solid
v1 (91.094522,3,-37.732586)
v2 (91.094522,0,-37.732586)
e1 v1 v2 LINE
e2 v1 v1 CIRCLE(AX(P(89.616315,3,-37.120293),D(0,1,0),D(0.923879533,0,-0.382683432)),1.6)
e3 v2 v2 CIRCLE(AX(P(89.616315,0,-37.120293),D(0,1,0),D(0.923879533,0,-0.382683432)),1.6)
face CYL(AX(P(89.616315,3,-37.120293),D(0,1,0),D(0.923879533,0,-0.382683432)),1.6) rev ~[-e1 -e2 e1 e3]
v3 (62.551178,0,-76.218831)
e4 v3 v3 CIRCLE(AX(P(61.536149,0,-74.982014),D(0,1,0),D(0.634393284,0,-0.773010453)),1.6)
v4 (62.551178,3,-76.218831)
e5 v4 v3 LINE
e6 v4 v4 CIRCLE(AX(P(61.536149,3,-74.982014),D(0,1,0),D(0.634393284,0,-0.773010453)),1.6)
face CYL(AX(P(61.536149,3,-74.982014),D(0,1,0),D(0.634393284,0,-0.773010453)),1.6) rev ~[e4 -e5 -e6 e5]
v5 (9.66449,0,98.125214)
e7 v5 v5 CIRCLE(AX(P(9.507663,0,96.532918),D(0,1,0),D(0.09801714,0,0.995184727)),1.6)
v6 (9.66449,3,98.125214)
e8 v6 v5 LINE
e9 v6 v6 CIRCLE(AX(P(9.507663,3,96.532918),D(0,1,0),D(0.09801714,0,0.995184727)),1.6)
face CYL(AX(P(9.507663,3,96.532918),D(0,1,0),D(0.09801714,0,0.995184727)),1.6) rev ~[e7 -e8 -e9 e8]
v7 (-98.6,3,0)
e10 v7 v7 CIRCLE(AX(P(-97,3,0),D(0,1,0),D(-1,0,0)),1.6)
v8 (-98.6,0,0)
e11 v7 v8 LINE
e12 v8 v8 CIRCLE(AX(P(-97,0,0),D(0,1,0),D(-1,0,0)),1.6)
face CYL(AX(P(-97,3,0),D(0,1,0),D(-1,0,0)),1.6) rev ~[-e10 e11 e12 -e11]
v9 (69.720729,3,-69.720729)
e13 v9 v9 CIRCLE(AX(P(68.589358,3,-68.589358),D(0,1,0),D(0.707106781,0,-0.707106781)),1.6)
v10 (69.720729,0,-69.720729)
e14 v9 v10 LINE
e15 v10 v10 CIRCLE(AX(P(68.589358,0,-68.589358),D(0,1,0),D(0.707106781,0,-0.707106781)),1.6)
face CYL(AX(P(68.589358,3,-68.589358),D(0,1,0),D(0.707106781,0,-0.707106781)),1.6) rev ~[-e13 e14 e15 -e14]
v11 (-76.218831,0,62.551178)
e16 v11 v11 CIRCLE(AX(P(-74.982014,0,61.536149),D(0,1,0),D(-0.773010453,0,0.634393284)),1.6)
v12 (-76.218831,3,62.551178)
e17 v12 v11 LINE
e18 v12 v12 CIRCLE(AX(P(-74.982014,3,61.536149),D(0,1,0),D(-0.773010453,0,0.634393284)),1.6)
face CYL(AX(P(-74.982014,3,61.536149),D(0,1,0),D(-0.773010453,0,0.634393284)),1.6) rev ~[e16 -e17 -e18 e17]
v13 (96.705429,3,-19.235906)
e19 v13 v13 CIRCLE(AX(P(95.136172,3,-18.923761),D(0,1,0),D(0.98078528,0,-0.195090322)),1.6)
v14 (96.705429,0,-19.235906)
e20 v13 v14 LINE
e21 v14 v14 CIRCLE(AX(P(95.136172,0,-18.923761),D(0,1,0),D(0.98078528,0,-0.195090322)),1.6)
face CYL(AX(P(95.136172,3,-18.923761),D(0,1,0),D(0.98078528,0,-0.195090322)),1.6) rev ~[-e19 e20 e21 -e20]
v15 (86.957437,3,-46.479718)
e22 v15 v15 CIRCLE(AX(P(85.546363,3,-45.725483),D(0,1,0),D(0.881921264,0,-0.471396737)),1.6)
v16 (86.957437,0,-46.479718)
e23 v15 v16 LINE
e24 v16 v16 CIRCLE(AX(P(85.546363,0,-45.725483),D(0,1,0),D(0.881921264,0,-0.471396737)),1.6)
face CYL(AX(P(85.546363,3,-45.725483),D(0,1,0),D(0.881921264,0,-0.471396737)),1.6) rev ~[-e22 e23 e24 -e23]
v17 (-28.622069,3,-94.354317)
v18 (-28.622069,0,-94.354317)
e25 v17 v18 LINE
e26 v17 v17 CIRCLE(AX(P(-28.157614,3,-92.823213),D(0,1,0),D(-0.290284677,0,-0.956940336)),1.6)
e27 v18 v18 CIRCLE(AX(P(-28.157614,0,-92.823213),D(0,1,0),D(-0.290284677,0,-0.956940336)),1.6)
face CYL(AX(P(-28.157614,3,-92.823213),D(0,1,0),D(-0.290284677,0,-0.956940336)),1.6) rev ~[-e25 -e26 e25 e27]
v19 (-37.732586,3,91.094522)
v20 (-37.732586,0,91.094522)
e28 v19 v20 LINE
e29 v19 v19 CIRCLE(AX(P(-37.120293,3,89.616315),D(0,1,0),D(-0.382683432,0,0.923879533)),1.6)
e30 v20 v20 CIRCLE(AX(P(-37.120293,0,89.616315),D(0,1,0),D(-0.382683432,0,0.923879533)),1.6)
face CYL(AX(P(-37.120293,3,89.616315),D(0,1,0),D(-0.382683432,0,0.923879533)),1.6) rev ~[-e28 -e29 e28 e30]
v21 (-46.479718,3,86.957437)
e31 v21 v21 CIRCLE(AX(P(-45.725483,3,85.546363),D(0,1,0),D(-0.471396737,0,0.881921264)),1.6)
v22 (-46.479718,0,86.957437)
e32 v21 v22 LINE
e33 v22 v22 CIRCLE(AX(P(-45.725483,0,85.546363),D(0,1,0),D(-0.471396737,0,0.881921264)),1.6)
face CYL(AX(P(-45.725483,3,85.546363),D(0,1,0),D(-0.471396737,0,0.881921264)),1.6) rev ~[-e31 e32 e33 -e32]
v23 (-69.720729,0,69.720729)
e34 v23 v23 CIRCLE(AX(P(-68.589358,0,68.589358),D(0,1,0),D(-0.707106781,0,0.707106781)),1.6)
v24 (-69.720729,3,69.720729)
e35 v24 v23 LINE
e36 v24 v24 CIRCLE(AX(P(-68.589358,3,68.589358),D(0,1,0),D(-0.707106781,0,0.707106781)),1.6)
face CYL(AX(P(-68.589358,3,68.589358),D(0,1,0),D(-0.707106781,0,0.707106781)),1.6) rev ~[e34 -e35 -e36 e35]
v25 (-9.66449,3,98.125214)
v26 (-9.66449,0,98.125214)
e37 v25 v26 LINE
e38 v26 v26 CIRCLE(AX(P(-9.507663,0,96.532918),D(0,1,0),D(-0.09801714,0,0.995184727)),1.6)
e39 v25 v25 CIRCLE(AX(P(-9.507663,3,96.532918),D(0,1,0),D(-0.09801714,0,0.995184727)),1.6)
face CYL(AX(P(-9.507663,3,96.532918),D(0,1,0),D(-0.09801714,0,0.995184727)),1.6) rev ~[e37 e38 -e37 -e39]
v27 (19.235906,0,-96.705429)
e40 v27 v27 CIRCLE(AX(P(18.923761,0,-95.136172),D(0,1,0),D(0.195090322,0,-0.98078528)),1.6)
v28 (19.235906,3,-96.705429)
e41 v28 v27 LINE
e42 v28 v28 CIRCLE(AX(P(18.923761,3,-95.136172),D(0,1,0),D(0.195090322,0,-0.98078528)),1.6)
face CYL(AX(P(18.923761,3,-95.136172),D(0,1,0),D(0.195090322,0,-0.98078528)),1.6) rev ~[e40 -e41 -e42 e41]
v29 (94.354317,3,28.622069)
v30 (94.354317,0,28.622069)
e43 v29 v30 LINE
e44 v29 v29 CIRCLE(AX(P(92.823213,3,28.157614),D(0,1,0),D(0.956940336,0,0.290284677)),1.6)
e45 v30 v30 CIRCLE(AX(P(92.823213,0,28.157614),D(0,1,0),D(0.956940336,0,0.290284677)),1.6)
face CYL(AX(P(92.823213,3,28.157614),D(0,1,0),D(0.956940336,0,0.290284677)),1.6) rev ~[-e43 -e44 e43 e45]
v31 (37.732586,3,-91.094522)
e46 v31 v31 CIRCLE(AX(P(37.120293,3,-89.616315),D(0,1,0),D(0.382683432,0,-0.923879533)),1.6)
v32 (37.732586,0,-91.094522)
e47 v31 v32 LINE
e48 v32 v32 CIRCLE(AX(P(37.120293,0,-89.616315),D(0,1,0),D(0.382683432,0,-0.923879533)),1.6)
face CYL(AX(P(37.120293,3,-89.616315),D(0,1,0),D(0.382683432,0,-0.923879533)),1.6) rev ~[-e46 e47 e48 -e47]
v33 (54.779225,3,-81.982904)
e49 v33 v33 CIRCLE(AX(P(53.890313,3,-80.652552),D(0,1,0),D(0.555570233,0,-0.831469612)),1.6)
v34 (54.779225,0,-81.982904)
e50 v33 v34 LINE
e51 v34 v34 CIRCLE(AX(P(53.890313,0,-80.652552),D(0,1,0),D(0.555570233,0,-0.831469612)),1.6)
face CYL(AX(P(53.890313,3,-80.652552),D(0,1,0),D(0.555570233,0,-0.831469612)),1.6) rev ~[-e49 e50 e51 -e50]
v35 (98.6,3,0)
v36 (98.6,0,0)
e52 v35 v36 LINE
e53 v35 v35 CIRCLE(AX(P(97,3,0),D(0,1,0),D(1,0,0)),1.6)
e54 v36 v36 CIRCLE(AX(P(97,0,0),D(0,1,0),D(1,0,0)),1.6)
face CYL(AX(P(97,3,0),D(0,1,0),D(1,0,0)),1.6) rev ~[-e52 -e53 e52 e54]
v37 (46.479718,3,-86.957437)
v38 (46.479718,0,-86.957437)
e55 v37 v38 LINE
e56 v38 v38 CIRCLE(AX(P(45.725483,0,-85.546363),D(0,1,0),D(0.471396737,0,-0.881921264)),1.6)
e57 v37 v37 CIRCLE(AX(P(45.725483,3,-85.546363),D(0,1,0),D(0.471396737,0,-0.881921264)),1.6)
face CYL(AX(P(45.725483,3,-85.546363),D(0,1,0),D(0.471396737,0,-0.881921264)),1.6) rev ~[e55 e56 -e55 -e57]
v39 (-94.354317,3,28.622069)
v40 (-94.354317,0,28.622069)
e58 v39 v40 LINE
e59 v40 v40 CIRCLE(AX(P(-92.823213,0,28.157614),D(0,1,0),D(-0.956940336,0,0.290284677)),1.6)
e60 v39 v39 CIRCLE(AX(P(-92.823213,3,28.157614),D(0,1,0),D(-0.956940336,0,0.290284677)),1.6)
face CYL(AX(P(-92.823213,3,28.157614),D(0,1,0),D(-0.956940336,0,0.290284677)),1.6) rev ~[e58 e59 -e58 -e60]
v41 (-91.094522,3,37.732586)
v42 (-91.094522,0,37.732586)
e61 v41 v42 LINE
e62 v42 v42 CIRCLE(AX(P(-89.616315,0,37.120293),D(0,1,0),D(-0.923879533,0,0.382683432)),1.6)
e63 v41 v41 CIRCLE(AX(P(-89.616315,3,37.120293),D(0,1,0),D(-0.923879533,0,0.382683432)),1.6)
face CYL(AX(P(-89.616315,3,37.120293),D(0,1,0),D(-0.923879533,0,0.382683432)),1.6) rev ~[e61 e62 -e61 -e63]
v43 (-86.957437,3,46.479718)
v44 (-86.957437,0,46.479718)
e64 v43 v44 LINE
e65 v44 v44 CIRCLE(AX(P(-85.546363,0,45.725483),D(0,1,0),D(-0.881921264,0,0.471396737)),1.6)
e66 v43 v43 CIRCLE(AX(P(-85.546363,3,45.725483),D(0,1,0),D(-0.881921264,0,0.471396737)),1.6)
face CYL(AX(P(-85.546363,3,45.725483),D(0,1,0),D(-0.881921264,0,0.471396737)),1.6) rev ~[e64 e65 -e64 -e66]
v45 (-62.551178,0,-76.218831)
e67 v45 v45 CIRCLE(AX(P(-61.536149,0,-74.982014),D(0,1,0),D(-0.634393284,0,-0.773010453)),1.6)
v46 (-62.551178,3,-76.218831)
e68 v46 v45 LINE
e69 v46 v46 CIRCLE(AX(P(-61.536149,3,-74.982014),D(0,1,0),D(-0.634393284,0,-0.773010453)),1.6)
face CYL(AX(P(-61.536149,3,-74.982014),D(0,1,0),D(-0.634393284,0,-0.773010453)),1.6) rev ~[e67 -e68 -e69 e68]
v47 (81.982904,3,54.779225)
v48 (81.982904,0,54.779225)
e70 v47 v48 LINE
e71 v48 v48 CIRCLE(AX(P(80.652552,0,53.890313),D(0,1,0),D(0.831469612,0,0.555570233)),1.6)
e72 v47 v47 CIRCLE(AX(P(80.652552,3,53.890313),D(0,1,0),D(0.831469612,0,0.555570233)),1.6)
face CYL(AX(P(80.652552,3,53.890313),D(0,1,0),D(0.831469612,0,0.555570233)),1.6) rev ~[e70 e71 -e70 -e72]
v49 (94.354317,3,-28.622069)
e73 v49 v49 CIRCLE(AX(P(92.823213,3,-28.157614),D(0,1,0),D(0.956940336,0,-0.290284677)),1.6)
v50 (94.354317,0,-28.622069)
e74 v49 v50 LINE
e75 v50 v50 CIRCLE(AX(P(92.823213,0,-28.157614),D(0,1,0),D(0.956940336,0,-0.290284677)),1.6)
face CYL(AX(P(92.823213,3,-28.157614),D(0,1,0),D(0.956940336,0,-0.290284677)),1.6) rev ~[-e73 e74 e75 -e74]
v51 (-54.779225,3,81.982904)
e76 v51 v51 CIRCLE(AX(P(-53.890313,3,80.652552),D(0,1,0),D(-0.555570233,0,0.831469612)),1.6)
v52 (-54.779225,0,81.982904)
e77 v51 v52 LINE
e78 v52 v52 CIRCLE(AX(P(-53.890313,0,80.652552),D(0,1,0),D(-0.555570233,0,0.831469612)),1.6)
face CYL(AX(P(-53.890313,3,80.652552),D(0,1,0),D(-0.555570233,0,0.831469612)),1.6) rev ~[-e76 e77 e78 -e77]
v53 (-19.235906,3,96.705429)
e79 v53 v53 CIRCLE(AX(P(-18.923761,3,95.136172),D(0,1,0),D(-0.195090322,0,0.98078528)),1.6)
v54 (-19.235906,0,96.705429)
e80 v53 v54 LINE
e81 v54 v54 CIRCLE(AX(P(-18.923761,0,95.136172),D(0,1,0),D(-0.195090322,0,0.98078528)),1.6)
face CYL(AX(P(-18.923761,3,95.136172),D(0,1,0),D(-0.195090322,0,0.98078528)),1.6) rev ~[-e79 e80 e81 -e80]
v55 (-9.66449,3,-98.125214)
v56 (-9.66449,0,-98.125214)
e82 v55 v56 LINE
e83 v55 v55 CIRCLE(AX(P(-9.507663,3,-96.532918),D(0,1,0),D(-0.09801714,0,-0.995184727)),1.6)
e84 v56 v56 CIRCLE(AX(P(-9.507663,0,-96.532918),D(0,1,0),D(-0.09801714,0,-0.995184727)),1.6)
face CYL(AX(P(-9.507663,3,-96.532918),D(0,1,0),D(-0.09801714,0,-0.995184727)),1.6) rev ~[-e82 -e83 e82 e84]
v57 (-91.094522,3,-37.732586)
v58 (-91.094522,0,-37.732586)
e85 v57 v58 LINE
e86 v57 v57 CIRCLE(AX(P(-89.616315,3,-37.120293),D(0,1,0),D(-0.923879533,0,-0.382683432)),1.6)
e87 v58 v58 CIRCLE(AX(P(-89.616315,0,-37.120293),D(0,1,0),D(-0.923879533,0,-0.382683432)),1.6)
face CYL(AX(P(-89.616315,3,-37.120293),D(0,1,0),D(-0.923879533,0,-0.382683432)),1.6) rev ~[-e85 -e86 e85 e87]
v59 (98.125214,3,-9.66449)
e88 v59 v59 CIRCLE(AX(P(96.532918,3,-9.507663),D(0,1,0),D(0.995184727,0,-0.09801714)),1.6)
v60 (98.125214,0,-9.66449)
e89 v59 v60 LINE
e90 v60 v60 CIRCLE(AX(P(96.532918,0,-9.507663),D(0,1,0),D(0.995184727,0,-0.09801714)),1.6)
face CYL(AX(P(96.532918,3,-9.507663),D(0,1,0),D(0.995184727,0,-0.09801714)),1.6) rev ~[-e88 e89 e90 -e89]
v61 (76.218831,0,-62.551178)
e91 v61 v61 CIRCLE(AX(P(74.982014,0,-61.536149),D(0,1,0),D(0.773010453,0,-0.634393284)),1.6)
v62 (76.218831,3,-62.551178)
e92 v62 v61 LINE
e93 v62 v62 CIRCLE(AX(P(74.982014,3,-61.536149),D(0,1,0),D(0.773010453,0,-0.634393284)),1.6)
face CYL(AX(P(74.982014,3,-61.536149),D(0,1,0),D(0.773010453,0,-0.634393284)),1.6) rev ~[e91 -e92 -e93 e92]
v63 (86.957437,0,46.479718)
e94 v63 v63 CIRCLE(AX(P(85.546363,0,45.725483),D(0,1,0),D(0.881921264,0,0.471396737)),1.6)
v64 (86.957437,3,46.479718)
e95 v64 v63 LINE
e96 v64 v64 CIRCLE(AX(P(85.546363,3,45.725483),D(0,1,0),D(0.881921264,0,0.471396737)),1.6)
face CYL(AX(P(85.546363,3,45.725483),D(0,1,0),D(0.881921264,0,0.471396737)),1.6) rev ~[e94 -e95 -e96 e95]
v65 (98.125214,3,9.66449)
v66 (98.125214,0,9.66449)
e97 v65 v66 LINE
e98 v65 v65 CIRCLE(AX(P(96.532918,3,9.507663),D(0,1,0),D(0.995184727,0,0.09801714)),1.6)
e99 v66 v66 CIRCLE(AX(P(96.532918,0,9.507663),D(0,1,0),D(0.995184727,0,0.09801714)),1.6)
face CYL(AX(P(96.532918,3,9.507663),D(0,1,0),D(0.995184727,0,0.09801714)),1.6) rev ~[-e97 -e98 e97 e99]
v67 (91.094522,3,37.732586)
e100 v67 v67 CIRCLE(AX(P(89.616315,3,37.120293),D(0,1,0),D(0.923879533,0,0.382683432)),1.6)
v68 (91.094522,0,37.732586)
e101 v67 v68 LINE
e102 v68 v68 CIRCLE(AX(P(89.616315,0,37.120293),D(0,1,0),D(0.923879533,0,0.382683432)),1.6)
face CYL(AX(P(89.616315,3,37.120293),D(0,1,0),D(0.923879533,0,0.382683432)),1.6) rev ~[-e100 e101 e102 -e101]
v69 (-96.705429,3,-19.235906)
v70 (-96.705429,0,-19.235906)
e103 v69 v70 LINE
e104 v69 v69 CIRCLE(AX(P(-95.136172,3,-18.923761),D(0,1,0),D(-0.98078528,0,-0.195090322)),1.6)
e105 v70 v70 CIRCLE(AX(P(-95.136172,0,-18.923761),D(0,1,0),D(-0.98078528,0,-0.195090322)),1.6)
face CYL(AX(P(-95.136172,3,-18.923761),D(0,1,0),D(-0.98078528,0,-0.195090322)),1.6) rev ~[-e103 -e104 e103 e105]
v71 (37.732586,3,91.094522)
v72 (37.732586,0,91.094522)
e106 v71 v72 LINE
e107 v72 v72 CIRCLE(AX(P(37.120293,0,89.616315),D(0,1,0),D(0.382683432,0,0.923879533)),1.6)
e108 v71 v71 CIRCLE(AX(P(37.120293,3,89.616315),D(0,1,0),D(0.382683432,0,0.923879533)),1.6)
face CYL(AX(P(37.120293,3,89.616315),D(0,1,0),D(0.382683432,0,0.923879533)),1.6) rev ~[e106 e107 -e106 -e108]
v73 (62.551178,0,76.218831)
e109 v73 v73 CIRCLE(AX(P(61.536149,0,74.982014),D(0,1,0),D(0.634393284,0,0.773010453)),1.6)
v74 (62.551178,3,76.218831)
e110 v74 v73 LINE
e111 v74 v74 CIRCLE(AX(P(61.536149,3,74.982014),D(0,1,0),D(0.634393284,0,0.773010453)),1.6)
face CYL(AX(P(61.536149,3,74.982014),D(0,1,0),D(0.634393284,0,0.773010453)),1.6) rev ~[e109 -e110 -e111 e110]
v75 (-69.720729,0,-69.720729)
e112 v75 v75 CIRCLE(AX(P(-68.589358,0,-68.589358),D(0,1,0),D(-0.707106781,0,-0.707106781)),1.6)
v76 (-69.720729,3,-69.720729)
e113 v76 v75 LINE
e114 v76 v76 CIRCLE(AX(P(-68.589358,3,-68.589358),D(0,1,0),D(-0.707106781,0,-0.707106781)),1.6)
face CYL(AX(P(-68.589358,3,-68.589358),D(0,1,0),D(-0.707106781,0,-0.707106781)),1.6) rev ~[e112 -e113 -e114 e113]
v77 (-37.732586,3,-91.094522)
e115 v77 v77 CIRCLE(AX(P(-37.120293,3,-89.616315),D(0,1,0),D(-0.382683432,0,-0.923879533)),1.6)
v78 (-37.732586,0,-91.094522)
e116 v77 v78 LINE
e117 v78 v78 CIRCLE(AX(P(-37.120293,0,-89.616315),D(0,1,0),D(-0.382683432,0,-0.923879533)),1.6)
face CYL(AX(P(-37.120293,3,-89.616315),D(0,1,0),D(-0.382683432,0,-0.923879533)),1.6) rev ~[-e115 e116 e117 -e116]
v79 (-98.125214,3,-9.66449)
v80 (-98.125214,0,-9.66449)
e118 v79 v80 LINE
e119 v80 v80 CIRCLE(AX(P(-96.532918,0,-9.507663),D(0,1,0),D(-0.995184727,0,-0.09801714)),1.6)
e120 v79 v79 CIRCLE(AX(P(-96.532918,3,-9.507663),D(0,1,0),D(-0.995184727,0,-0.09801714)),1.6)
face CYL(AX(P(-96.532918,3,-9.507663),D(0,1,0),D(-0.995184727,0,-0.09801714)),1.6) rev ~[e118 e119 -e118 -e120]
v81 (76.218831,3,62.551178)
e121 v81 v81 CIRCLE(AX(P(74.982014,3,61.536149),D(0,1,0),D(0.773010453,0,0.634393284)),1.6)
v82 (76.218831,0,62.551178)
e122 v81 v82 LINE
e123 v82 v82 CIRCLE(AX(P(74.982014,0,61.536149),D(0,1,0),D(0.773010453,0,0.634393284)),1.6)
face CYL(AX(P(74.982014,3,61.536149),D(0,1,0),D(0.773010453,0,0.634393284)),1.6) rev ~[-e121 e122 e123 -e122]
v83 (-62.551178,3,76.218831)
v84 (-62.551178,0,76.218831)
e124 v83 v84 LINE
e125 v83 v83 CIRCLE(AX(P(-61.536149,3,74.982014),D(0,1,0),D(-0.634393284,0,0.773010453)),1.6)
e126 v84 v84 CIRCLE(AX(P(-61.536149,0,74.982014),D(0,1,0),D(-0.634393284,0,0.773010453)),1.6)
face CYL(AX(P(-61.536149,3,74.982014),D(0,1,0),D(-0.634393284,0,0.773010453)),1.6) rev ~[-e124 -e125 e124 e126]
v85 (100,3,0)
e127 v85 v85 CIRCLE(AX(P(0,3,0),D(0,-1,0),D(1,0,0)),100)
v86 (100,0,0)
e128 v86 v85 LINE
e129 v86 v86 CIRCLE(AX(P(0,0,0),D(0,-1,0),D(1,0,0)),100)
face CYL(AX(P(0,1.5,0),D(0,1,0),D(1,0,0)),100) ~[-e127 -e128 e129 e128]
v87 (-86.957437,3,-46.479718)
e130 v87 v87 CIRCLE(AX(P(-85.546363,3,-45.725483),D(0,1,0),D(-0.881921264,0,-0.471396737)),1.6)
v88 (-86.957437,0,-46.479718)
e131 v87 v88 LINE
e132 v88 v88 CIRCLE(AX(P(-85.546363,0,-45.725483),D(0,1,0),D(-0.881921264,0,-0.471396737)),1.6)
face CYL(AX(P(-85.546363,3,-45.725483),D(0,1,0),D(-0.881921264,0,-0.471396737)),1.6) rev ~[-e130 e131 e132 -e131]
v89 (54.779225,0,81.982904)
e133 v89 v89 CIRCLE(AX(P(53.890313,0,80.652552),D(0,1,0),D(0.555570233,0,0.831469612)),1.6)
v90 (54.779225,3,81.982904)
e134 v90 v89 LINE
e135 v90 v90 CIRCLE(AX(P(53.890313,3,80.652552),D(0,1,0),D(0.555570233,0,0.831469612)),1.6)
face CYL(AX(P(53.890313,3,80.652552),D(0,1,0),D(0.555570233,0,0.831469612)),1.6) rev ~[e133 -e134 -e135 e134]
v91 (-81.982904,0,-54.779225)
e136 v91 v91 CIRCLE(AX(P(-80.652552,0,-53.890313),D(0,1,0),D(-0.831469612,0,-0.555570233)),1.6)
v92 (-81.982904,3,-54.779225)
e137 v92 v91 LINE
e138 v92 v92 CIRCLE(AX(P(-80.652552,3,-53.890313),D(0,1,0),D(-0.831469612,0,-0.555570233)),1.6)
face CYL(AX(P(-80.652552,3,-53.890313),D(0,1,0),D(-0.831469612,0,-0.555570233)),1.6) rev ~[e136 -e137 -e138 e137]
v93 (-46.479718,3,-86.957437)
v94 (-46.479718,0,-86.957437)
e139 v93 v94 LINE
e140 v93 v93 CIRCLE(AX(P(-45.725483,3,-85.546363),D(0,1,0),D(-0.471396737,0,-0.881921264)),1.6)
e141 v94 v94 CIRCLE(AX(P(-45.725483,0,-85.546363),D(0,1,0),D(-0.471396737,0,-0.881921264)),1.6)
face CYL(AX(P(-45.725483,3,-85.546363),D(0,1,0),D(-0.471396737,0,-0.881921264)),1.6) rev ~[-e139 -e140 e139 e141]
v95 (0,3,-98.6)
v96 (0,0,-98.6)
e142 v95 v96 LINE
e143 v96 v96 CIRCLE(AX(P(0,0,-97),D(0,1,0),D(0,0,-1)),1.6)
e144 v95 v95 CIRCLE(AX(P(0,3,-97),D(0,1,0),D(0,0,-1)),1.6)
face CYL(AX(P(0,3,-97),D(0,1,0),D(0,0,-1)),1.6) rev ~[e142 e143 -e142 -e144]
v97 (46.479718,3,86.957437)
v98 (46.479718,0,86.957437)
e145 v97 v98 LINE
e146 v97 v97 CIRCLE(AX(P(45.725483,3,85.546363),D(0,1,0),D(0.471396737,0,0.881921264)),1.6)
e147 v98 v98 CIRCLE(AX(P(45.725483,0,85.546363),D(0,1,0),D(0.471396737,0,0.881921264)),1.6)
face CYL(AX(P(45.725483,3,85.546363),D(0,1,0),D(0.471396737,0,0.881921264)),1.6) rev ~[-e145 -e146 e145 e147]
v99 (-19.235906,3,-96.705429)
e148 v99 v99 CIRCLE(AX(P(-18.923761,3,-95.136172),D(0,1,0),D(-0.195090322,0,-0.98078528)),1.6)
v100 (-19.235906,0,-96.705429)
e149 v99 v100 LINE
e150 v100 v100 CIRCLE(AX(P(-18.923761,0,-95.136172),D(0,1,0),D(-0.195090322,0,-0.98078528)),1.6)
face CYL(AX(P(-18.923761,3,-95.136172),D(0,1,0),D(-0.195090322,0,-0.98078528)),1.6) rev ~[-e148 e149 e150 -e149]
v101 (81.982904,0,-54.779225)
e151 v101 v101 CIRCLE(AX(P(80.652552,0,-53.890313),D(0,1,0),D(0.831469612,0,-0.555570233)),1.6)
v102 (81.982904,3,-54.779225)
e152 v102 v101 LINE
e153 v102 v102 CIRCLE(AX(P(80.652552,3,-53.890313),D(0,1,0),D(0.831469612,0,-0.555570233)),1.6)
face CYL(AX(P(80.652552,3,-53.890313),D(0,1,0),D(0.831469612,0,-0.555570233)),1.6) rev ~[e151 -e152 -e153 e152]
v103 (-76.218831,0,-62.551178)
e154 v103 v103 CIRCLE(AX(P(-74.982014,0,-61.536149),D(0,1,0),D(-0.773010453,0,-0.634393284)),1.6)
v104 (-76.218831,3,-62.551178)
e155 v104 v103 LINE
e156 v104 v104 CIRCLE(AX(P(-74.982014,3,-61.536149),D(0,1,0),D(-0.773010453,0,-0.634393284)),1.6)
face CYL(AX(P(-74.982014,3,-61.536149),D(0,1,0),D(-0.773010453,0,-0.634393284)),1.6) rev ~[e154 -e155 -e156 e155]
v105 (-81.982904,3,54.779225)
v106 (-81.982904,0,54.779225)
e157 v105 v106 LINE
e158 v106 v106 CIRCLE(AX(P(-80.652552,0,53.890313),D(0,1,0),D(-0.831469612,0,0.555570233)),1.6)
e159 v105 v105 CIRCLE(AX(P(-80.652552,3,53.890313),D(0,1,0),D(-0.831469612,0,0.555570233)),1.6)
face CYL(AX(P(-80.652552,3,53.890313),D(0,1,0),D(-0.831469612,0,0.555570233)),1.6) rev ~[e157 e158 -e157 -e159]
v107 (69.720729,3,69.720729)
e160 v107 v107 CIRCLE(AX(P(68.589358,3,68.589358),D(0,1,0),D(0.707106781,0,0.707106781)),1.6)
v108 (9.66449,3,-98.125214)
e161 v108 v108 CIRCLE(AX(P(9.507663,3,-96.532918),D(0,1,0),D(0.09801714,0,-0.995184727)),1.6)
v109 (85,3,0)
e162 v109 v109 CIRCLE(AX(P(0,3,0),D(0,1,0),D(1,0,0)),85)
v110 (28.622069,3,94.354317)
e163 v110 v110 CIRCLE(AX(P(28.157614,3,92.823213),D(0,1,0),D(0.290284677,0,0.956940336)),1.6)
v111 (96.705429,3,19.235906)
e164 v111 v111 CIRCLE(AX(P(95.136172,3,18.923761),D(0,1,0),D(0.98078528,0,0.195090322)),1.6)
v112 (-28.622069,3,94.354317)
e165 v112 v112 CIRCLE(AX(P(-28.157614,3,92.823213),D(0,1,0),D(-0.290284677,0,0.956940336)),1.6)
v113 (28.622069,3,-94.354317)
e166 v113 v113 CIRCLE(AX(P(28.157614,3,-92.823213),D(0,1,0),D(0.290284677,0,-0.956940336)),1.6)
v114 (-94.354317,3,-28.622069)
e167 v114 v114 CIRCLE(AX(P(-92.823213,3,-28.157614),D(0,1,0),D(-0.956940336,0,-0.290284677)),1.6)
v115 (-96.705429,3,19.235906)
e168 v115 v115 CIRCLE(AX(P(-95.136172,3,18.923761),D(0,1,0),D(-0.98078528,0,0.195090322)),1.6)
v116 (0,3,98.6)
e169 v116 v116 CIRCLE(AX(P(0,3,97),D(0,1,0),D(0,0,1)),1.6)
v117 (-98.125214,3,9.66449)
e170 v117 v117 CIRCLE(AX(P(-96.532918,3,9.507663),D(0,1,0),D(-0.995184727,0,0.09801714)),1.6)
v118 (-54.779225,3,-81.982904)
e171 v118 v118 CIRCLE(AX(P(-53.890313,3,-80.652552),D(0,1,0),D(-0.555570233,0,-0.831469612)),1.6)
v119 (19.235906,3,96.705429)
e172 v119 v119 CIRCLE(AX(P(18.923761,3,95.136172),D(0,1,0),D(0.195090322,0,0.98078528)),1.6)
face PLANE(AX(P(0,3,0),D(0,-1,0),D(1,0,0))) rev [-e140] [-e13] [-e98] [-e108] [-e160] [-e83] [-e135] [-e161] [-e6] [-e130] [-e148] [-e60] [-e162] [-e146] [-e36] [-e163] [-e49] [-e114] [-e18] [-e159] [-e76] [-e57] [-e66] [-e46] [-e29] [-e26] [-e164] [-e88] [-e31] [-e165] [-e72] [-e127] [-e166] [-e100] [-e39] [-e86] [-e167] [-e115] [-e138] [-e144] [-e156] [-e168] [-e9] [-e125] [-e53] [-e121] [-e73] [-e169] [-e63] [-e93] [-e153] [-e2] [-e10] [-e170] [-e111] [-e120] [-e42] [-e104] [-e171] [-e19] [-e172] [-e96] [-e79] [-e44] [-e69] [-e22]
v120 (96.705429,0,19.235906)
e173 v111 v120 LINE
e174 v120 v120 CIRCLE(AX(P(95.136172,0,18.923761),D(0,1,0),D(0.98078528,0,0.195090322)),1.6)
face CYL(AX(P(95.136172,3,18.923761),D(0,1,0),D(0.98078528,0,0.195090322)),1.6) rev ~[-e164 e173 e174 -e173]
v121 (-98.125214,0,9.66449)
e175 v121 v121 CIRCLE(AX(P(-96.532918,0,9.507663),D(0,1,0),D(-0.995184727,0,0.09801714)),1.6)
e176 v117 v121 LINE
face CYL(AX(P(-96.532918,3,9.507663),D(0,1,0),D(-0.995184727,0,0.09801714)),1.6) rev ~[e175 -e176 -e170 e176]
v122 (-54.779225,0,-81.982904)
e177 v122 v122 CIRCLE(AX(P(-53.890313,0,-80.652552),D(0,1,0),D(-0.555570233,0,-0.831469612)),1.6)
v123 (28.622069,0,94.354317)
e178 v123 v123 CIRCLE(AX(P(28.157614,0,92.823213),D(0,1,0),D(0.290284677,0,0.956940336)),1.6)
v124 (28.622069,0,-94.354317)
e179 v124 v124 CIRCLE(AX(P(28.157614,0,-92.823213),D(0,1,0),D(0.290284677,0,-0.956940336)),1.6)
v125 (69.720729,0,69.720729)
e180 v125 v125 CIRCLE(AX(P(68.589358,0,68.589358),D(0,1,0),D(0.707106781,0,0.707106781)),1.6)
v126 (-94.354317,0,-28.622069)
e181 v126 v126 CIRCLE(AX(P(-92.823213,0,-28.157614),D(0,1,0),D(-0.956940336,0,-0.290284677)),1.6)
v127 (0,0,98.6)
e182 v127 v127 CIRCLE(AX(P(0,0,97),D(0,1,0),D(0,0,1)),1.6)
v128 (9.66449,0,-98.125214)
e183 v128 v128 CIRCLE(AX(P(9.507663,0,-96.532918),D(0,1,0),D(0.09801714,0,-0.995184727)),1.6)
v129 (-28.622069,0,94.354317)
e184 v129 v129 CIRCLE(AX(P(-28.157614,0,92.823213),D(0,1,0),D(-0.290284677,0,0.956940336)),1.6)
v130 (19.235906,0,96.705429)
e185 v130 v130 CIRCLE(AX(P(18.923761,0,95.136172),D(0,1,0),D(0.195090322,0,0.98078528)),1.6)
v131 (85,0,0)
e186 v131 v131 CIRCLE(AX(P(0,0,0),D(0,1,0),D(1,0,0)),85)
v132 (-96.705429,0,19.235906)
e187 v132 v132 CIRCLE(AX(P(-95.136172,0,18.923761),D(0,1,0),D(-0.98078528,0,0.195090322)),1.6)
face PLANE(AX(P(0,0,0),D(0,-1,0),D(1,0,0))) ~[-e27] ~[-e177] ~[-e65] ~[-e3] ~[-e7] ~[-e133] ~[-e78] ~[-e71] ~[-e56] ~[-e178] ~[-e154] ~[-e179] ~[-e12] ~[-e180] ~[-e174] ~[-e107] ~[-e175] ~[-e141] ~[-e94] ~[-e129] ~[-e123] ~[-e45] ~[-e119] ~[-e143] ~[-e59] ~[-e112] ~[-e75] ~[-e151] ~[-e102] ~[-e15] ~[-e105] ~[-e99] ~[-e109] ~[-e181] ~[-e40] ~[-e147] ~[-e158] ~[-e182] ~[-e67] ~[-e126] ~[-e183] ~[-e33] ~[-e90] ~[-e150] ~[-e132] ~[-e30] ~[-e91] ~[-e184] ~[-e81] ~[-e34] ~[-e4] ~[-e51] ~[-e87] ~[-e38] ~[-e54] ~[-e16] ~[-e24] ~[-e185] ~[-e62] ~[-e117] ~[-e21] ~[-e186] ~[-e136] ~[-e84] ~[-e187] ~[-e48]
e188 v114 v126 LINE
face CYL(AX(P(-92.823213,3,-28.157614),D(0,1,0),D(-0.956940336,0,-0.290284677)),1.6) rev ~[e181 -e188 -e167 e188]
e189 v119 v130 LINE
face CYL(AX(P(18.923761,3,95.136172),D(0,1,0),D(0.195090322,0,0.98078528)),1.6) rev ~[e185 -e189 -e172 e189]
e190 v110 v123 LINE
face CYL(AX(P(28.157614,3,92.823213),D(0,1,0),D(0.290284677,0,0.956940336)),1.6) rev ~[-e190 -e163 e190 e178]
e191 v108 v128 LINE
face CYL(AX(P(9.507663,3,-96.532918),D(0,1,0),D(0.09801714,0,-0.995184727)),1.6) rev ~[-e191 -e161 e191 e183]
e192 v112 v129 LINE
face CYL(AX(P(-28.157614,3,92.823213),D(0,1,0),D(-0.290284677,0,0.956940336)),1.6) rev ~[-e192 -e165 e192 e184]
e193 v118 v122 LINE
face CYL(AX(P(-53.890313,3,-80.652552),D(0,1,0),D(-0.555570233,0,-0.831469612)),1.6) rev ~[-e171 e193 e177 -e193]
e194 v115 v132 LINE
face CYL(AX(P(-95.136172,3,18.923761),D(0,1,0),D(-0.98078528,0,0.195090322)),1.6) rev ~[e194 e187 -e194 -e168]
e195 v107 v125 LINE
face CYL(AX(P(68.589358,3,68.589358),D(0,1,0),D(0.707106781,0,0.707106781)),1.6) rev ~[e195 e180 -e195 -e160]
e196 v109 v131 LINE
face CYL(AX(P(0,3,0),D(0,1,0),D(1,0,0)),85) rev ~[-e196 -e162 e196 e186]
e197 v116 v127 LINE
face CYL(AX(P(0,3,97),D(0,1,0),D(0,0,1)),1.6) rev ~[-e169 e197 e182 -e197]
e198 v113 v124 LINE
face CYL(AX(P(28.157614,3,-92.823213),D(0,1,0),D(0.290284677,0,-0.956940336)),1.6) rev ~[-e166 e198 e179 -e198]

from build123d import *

# Parameters (mm, degrees)
ESQUISSE2_W                  = 100
ESQUISSE2_H                  = 3
ESQUISSE4_R                  = 85
CENTRALHOLE_DEPTH            = 4
ESQUISSE5_R                  = 1.6
FIXINGHOLE_DEPTH             = 4
R_P_TITION_CIRCULAIRE1_COUNT = 64


with BuildPart() as part:
    # Esquisse2 → MainRevolution (revolve)
    with BuildSketch(Plane.XY):
        with Locations((50, 1.5)):
            Rectangle(ESQUISSE2_W, ESQUISSE2_H)
    revolve(axis=Axis((0, 55, 0), (0, -1, 0)))

    # Esquisse4 → CentralHole (cut, through all)
    with BuildSketch(Plane(origin=(0, 3, 0), x_dir=(1, 0, 0), z_dir=(0, 1, 0))):
        Circle(ESQUISSE4_R)
    extrude(amount=-CENTRALHOLE_DEPTH, mode=Mode.SUBTRACT)

    # Esquisse5 → FixingHole (cut, through all)
    with BuildSketch(Plane(origin=(0, 3, 0), x_dir=(1, 0, 0), z_dir=(0, 1, 0))):
        with Locations((97, 0)):
            Circle(ESQUISSE5_R)
    fixinghole = extrude(amount=-FIXINGHOLE_DEPTH, mode=Mode.SUBTRACT)

    # Répétition circulaire1: FixingHole ×64 about axis
    r_p_tition_circulaire1_axis = Axis((0, 0, 0), (0, 1, 0))
    for i in range(1, R_P_TITION_CIRCULAIRE1_COUNT):
        add(fixinghole.rotate(r_p_tition_circulaire1_axis, i * 360 / R_P_TITION_CIRCULAIRE1_COUNT), mode=Mode.SUBTRACT)


solid = part.part
